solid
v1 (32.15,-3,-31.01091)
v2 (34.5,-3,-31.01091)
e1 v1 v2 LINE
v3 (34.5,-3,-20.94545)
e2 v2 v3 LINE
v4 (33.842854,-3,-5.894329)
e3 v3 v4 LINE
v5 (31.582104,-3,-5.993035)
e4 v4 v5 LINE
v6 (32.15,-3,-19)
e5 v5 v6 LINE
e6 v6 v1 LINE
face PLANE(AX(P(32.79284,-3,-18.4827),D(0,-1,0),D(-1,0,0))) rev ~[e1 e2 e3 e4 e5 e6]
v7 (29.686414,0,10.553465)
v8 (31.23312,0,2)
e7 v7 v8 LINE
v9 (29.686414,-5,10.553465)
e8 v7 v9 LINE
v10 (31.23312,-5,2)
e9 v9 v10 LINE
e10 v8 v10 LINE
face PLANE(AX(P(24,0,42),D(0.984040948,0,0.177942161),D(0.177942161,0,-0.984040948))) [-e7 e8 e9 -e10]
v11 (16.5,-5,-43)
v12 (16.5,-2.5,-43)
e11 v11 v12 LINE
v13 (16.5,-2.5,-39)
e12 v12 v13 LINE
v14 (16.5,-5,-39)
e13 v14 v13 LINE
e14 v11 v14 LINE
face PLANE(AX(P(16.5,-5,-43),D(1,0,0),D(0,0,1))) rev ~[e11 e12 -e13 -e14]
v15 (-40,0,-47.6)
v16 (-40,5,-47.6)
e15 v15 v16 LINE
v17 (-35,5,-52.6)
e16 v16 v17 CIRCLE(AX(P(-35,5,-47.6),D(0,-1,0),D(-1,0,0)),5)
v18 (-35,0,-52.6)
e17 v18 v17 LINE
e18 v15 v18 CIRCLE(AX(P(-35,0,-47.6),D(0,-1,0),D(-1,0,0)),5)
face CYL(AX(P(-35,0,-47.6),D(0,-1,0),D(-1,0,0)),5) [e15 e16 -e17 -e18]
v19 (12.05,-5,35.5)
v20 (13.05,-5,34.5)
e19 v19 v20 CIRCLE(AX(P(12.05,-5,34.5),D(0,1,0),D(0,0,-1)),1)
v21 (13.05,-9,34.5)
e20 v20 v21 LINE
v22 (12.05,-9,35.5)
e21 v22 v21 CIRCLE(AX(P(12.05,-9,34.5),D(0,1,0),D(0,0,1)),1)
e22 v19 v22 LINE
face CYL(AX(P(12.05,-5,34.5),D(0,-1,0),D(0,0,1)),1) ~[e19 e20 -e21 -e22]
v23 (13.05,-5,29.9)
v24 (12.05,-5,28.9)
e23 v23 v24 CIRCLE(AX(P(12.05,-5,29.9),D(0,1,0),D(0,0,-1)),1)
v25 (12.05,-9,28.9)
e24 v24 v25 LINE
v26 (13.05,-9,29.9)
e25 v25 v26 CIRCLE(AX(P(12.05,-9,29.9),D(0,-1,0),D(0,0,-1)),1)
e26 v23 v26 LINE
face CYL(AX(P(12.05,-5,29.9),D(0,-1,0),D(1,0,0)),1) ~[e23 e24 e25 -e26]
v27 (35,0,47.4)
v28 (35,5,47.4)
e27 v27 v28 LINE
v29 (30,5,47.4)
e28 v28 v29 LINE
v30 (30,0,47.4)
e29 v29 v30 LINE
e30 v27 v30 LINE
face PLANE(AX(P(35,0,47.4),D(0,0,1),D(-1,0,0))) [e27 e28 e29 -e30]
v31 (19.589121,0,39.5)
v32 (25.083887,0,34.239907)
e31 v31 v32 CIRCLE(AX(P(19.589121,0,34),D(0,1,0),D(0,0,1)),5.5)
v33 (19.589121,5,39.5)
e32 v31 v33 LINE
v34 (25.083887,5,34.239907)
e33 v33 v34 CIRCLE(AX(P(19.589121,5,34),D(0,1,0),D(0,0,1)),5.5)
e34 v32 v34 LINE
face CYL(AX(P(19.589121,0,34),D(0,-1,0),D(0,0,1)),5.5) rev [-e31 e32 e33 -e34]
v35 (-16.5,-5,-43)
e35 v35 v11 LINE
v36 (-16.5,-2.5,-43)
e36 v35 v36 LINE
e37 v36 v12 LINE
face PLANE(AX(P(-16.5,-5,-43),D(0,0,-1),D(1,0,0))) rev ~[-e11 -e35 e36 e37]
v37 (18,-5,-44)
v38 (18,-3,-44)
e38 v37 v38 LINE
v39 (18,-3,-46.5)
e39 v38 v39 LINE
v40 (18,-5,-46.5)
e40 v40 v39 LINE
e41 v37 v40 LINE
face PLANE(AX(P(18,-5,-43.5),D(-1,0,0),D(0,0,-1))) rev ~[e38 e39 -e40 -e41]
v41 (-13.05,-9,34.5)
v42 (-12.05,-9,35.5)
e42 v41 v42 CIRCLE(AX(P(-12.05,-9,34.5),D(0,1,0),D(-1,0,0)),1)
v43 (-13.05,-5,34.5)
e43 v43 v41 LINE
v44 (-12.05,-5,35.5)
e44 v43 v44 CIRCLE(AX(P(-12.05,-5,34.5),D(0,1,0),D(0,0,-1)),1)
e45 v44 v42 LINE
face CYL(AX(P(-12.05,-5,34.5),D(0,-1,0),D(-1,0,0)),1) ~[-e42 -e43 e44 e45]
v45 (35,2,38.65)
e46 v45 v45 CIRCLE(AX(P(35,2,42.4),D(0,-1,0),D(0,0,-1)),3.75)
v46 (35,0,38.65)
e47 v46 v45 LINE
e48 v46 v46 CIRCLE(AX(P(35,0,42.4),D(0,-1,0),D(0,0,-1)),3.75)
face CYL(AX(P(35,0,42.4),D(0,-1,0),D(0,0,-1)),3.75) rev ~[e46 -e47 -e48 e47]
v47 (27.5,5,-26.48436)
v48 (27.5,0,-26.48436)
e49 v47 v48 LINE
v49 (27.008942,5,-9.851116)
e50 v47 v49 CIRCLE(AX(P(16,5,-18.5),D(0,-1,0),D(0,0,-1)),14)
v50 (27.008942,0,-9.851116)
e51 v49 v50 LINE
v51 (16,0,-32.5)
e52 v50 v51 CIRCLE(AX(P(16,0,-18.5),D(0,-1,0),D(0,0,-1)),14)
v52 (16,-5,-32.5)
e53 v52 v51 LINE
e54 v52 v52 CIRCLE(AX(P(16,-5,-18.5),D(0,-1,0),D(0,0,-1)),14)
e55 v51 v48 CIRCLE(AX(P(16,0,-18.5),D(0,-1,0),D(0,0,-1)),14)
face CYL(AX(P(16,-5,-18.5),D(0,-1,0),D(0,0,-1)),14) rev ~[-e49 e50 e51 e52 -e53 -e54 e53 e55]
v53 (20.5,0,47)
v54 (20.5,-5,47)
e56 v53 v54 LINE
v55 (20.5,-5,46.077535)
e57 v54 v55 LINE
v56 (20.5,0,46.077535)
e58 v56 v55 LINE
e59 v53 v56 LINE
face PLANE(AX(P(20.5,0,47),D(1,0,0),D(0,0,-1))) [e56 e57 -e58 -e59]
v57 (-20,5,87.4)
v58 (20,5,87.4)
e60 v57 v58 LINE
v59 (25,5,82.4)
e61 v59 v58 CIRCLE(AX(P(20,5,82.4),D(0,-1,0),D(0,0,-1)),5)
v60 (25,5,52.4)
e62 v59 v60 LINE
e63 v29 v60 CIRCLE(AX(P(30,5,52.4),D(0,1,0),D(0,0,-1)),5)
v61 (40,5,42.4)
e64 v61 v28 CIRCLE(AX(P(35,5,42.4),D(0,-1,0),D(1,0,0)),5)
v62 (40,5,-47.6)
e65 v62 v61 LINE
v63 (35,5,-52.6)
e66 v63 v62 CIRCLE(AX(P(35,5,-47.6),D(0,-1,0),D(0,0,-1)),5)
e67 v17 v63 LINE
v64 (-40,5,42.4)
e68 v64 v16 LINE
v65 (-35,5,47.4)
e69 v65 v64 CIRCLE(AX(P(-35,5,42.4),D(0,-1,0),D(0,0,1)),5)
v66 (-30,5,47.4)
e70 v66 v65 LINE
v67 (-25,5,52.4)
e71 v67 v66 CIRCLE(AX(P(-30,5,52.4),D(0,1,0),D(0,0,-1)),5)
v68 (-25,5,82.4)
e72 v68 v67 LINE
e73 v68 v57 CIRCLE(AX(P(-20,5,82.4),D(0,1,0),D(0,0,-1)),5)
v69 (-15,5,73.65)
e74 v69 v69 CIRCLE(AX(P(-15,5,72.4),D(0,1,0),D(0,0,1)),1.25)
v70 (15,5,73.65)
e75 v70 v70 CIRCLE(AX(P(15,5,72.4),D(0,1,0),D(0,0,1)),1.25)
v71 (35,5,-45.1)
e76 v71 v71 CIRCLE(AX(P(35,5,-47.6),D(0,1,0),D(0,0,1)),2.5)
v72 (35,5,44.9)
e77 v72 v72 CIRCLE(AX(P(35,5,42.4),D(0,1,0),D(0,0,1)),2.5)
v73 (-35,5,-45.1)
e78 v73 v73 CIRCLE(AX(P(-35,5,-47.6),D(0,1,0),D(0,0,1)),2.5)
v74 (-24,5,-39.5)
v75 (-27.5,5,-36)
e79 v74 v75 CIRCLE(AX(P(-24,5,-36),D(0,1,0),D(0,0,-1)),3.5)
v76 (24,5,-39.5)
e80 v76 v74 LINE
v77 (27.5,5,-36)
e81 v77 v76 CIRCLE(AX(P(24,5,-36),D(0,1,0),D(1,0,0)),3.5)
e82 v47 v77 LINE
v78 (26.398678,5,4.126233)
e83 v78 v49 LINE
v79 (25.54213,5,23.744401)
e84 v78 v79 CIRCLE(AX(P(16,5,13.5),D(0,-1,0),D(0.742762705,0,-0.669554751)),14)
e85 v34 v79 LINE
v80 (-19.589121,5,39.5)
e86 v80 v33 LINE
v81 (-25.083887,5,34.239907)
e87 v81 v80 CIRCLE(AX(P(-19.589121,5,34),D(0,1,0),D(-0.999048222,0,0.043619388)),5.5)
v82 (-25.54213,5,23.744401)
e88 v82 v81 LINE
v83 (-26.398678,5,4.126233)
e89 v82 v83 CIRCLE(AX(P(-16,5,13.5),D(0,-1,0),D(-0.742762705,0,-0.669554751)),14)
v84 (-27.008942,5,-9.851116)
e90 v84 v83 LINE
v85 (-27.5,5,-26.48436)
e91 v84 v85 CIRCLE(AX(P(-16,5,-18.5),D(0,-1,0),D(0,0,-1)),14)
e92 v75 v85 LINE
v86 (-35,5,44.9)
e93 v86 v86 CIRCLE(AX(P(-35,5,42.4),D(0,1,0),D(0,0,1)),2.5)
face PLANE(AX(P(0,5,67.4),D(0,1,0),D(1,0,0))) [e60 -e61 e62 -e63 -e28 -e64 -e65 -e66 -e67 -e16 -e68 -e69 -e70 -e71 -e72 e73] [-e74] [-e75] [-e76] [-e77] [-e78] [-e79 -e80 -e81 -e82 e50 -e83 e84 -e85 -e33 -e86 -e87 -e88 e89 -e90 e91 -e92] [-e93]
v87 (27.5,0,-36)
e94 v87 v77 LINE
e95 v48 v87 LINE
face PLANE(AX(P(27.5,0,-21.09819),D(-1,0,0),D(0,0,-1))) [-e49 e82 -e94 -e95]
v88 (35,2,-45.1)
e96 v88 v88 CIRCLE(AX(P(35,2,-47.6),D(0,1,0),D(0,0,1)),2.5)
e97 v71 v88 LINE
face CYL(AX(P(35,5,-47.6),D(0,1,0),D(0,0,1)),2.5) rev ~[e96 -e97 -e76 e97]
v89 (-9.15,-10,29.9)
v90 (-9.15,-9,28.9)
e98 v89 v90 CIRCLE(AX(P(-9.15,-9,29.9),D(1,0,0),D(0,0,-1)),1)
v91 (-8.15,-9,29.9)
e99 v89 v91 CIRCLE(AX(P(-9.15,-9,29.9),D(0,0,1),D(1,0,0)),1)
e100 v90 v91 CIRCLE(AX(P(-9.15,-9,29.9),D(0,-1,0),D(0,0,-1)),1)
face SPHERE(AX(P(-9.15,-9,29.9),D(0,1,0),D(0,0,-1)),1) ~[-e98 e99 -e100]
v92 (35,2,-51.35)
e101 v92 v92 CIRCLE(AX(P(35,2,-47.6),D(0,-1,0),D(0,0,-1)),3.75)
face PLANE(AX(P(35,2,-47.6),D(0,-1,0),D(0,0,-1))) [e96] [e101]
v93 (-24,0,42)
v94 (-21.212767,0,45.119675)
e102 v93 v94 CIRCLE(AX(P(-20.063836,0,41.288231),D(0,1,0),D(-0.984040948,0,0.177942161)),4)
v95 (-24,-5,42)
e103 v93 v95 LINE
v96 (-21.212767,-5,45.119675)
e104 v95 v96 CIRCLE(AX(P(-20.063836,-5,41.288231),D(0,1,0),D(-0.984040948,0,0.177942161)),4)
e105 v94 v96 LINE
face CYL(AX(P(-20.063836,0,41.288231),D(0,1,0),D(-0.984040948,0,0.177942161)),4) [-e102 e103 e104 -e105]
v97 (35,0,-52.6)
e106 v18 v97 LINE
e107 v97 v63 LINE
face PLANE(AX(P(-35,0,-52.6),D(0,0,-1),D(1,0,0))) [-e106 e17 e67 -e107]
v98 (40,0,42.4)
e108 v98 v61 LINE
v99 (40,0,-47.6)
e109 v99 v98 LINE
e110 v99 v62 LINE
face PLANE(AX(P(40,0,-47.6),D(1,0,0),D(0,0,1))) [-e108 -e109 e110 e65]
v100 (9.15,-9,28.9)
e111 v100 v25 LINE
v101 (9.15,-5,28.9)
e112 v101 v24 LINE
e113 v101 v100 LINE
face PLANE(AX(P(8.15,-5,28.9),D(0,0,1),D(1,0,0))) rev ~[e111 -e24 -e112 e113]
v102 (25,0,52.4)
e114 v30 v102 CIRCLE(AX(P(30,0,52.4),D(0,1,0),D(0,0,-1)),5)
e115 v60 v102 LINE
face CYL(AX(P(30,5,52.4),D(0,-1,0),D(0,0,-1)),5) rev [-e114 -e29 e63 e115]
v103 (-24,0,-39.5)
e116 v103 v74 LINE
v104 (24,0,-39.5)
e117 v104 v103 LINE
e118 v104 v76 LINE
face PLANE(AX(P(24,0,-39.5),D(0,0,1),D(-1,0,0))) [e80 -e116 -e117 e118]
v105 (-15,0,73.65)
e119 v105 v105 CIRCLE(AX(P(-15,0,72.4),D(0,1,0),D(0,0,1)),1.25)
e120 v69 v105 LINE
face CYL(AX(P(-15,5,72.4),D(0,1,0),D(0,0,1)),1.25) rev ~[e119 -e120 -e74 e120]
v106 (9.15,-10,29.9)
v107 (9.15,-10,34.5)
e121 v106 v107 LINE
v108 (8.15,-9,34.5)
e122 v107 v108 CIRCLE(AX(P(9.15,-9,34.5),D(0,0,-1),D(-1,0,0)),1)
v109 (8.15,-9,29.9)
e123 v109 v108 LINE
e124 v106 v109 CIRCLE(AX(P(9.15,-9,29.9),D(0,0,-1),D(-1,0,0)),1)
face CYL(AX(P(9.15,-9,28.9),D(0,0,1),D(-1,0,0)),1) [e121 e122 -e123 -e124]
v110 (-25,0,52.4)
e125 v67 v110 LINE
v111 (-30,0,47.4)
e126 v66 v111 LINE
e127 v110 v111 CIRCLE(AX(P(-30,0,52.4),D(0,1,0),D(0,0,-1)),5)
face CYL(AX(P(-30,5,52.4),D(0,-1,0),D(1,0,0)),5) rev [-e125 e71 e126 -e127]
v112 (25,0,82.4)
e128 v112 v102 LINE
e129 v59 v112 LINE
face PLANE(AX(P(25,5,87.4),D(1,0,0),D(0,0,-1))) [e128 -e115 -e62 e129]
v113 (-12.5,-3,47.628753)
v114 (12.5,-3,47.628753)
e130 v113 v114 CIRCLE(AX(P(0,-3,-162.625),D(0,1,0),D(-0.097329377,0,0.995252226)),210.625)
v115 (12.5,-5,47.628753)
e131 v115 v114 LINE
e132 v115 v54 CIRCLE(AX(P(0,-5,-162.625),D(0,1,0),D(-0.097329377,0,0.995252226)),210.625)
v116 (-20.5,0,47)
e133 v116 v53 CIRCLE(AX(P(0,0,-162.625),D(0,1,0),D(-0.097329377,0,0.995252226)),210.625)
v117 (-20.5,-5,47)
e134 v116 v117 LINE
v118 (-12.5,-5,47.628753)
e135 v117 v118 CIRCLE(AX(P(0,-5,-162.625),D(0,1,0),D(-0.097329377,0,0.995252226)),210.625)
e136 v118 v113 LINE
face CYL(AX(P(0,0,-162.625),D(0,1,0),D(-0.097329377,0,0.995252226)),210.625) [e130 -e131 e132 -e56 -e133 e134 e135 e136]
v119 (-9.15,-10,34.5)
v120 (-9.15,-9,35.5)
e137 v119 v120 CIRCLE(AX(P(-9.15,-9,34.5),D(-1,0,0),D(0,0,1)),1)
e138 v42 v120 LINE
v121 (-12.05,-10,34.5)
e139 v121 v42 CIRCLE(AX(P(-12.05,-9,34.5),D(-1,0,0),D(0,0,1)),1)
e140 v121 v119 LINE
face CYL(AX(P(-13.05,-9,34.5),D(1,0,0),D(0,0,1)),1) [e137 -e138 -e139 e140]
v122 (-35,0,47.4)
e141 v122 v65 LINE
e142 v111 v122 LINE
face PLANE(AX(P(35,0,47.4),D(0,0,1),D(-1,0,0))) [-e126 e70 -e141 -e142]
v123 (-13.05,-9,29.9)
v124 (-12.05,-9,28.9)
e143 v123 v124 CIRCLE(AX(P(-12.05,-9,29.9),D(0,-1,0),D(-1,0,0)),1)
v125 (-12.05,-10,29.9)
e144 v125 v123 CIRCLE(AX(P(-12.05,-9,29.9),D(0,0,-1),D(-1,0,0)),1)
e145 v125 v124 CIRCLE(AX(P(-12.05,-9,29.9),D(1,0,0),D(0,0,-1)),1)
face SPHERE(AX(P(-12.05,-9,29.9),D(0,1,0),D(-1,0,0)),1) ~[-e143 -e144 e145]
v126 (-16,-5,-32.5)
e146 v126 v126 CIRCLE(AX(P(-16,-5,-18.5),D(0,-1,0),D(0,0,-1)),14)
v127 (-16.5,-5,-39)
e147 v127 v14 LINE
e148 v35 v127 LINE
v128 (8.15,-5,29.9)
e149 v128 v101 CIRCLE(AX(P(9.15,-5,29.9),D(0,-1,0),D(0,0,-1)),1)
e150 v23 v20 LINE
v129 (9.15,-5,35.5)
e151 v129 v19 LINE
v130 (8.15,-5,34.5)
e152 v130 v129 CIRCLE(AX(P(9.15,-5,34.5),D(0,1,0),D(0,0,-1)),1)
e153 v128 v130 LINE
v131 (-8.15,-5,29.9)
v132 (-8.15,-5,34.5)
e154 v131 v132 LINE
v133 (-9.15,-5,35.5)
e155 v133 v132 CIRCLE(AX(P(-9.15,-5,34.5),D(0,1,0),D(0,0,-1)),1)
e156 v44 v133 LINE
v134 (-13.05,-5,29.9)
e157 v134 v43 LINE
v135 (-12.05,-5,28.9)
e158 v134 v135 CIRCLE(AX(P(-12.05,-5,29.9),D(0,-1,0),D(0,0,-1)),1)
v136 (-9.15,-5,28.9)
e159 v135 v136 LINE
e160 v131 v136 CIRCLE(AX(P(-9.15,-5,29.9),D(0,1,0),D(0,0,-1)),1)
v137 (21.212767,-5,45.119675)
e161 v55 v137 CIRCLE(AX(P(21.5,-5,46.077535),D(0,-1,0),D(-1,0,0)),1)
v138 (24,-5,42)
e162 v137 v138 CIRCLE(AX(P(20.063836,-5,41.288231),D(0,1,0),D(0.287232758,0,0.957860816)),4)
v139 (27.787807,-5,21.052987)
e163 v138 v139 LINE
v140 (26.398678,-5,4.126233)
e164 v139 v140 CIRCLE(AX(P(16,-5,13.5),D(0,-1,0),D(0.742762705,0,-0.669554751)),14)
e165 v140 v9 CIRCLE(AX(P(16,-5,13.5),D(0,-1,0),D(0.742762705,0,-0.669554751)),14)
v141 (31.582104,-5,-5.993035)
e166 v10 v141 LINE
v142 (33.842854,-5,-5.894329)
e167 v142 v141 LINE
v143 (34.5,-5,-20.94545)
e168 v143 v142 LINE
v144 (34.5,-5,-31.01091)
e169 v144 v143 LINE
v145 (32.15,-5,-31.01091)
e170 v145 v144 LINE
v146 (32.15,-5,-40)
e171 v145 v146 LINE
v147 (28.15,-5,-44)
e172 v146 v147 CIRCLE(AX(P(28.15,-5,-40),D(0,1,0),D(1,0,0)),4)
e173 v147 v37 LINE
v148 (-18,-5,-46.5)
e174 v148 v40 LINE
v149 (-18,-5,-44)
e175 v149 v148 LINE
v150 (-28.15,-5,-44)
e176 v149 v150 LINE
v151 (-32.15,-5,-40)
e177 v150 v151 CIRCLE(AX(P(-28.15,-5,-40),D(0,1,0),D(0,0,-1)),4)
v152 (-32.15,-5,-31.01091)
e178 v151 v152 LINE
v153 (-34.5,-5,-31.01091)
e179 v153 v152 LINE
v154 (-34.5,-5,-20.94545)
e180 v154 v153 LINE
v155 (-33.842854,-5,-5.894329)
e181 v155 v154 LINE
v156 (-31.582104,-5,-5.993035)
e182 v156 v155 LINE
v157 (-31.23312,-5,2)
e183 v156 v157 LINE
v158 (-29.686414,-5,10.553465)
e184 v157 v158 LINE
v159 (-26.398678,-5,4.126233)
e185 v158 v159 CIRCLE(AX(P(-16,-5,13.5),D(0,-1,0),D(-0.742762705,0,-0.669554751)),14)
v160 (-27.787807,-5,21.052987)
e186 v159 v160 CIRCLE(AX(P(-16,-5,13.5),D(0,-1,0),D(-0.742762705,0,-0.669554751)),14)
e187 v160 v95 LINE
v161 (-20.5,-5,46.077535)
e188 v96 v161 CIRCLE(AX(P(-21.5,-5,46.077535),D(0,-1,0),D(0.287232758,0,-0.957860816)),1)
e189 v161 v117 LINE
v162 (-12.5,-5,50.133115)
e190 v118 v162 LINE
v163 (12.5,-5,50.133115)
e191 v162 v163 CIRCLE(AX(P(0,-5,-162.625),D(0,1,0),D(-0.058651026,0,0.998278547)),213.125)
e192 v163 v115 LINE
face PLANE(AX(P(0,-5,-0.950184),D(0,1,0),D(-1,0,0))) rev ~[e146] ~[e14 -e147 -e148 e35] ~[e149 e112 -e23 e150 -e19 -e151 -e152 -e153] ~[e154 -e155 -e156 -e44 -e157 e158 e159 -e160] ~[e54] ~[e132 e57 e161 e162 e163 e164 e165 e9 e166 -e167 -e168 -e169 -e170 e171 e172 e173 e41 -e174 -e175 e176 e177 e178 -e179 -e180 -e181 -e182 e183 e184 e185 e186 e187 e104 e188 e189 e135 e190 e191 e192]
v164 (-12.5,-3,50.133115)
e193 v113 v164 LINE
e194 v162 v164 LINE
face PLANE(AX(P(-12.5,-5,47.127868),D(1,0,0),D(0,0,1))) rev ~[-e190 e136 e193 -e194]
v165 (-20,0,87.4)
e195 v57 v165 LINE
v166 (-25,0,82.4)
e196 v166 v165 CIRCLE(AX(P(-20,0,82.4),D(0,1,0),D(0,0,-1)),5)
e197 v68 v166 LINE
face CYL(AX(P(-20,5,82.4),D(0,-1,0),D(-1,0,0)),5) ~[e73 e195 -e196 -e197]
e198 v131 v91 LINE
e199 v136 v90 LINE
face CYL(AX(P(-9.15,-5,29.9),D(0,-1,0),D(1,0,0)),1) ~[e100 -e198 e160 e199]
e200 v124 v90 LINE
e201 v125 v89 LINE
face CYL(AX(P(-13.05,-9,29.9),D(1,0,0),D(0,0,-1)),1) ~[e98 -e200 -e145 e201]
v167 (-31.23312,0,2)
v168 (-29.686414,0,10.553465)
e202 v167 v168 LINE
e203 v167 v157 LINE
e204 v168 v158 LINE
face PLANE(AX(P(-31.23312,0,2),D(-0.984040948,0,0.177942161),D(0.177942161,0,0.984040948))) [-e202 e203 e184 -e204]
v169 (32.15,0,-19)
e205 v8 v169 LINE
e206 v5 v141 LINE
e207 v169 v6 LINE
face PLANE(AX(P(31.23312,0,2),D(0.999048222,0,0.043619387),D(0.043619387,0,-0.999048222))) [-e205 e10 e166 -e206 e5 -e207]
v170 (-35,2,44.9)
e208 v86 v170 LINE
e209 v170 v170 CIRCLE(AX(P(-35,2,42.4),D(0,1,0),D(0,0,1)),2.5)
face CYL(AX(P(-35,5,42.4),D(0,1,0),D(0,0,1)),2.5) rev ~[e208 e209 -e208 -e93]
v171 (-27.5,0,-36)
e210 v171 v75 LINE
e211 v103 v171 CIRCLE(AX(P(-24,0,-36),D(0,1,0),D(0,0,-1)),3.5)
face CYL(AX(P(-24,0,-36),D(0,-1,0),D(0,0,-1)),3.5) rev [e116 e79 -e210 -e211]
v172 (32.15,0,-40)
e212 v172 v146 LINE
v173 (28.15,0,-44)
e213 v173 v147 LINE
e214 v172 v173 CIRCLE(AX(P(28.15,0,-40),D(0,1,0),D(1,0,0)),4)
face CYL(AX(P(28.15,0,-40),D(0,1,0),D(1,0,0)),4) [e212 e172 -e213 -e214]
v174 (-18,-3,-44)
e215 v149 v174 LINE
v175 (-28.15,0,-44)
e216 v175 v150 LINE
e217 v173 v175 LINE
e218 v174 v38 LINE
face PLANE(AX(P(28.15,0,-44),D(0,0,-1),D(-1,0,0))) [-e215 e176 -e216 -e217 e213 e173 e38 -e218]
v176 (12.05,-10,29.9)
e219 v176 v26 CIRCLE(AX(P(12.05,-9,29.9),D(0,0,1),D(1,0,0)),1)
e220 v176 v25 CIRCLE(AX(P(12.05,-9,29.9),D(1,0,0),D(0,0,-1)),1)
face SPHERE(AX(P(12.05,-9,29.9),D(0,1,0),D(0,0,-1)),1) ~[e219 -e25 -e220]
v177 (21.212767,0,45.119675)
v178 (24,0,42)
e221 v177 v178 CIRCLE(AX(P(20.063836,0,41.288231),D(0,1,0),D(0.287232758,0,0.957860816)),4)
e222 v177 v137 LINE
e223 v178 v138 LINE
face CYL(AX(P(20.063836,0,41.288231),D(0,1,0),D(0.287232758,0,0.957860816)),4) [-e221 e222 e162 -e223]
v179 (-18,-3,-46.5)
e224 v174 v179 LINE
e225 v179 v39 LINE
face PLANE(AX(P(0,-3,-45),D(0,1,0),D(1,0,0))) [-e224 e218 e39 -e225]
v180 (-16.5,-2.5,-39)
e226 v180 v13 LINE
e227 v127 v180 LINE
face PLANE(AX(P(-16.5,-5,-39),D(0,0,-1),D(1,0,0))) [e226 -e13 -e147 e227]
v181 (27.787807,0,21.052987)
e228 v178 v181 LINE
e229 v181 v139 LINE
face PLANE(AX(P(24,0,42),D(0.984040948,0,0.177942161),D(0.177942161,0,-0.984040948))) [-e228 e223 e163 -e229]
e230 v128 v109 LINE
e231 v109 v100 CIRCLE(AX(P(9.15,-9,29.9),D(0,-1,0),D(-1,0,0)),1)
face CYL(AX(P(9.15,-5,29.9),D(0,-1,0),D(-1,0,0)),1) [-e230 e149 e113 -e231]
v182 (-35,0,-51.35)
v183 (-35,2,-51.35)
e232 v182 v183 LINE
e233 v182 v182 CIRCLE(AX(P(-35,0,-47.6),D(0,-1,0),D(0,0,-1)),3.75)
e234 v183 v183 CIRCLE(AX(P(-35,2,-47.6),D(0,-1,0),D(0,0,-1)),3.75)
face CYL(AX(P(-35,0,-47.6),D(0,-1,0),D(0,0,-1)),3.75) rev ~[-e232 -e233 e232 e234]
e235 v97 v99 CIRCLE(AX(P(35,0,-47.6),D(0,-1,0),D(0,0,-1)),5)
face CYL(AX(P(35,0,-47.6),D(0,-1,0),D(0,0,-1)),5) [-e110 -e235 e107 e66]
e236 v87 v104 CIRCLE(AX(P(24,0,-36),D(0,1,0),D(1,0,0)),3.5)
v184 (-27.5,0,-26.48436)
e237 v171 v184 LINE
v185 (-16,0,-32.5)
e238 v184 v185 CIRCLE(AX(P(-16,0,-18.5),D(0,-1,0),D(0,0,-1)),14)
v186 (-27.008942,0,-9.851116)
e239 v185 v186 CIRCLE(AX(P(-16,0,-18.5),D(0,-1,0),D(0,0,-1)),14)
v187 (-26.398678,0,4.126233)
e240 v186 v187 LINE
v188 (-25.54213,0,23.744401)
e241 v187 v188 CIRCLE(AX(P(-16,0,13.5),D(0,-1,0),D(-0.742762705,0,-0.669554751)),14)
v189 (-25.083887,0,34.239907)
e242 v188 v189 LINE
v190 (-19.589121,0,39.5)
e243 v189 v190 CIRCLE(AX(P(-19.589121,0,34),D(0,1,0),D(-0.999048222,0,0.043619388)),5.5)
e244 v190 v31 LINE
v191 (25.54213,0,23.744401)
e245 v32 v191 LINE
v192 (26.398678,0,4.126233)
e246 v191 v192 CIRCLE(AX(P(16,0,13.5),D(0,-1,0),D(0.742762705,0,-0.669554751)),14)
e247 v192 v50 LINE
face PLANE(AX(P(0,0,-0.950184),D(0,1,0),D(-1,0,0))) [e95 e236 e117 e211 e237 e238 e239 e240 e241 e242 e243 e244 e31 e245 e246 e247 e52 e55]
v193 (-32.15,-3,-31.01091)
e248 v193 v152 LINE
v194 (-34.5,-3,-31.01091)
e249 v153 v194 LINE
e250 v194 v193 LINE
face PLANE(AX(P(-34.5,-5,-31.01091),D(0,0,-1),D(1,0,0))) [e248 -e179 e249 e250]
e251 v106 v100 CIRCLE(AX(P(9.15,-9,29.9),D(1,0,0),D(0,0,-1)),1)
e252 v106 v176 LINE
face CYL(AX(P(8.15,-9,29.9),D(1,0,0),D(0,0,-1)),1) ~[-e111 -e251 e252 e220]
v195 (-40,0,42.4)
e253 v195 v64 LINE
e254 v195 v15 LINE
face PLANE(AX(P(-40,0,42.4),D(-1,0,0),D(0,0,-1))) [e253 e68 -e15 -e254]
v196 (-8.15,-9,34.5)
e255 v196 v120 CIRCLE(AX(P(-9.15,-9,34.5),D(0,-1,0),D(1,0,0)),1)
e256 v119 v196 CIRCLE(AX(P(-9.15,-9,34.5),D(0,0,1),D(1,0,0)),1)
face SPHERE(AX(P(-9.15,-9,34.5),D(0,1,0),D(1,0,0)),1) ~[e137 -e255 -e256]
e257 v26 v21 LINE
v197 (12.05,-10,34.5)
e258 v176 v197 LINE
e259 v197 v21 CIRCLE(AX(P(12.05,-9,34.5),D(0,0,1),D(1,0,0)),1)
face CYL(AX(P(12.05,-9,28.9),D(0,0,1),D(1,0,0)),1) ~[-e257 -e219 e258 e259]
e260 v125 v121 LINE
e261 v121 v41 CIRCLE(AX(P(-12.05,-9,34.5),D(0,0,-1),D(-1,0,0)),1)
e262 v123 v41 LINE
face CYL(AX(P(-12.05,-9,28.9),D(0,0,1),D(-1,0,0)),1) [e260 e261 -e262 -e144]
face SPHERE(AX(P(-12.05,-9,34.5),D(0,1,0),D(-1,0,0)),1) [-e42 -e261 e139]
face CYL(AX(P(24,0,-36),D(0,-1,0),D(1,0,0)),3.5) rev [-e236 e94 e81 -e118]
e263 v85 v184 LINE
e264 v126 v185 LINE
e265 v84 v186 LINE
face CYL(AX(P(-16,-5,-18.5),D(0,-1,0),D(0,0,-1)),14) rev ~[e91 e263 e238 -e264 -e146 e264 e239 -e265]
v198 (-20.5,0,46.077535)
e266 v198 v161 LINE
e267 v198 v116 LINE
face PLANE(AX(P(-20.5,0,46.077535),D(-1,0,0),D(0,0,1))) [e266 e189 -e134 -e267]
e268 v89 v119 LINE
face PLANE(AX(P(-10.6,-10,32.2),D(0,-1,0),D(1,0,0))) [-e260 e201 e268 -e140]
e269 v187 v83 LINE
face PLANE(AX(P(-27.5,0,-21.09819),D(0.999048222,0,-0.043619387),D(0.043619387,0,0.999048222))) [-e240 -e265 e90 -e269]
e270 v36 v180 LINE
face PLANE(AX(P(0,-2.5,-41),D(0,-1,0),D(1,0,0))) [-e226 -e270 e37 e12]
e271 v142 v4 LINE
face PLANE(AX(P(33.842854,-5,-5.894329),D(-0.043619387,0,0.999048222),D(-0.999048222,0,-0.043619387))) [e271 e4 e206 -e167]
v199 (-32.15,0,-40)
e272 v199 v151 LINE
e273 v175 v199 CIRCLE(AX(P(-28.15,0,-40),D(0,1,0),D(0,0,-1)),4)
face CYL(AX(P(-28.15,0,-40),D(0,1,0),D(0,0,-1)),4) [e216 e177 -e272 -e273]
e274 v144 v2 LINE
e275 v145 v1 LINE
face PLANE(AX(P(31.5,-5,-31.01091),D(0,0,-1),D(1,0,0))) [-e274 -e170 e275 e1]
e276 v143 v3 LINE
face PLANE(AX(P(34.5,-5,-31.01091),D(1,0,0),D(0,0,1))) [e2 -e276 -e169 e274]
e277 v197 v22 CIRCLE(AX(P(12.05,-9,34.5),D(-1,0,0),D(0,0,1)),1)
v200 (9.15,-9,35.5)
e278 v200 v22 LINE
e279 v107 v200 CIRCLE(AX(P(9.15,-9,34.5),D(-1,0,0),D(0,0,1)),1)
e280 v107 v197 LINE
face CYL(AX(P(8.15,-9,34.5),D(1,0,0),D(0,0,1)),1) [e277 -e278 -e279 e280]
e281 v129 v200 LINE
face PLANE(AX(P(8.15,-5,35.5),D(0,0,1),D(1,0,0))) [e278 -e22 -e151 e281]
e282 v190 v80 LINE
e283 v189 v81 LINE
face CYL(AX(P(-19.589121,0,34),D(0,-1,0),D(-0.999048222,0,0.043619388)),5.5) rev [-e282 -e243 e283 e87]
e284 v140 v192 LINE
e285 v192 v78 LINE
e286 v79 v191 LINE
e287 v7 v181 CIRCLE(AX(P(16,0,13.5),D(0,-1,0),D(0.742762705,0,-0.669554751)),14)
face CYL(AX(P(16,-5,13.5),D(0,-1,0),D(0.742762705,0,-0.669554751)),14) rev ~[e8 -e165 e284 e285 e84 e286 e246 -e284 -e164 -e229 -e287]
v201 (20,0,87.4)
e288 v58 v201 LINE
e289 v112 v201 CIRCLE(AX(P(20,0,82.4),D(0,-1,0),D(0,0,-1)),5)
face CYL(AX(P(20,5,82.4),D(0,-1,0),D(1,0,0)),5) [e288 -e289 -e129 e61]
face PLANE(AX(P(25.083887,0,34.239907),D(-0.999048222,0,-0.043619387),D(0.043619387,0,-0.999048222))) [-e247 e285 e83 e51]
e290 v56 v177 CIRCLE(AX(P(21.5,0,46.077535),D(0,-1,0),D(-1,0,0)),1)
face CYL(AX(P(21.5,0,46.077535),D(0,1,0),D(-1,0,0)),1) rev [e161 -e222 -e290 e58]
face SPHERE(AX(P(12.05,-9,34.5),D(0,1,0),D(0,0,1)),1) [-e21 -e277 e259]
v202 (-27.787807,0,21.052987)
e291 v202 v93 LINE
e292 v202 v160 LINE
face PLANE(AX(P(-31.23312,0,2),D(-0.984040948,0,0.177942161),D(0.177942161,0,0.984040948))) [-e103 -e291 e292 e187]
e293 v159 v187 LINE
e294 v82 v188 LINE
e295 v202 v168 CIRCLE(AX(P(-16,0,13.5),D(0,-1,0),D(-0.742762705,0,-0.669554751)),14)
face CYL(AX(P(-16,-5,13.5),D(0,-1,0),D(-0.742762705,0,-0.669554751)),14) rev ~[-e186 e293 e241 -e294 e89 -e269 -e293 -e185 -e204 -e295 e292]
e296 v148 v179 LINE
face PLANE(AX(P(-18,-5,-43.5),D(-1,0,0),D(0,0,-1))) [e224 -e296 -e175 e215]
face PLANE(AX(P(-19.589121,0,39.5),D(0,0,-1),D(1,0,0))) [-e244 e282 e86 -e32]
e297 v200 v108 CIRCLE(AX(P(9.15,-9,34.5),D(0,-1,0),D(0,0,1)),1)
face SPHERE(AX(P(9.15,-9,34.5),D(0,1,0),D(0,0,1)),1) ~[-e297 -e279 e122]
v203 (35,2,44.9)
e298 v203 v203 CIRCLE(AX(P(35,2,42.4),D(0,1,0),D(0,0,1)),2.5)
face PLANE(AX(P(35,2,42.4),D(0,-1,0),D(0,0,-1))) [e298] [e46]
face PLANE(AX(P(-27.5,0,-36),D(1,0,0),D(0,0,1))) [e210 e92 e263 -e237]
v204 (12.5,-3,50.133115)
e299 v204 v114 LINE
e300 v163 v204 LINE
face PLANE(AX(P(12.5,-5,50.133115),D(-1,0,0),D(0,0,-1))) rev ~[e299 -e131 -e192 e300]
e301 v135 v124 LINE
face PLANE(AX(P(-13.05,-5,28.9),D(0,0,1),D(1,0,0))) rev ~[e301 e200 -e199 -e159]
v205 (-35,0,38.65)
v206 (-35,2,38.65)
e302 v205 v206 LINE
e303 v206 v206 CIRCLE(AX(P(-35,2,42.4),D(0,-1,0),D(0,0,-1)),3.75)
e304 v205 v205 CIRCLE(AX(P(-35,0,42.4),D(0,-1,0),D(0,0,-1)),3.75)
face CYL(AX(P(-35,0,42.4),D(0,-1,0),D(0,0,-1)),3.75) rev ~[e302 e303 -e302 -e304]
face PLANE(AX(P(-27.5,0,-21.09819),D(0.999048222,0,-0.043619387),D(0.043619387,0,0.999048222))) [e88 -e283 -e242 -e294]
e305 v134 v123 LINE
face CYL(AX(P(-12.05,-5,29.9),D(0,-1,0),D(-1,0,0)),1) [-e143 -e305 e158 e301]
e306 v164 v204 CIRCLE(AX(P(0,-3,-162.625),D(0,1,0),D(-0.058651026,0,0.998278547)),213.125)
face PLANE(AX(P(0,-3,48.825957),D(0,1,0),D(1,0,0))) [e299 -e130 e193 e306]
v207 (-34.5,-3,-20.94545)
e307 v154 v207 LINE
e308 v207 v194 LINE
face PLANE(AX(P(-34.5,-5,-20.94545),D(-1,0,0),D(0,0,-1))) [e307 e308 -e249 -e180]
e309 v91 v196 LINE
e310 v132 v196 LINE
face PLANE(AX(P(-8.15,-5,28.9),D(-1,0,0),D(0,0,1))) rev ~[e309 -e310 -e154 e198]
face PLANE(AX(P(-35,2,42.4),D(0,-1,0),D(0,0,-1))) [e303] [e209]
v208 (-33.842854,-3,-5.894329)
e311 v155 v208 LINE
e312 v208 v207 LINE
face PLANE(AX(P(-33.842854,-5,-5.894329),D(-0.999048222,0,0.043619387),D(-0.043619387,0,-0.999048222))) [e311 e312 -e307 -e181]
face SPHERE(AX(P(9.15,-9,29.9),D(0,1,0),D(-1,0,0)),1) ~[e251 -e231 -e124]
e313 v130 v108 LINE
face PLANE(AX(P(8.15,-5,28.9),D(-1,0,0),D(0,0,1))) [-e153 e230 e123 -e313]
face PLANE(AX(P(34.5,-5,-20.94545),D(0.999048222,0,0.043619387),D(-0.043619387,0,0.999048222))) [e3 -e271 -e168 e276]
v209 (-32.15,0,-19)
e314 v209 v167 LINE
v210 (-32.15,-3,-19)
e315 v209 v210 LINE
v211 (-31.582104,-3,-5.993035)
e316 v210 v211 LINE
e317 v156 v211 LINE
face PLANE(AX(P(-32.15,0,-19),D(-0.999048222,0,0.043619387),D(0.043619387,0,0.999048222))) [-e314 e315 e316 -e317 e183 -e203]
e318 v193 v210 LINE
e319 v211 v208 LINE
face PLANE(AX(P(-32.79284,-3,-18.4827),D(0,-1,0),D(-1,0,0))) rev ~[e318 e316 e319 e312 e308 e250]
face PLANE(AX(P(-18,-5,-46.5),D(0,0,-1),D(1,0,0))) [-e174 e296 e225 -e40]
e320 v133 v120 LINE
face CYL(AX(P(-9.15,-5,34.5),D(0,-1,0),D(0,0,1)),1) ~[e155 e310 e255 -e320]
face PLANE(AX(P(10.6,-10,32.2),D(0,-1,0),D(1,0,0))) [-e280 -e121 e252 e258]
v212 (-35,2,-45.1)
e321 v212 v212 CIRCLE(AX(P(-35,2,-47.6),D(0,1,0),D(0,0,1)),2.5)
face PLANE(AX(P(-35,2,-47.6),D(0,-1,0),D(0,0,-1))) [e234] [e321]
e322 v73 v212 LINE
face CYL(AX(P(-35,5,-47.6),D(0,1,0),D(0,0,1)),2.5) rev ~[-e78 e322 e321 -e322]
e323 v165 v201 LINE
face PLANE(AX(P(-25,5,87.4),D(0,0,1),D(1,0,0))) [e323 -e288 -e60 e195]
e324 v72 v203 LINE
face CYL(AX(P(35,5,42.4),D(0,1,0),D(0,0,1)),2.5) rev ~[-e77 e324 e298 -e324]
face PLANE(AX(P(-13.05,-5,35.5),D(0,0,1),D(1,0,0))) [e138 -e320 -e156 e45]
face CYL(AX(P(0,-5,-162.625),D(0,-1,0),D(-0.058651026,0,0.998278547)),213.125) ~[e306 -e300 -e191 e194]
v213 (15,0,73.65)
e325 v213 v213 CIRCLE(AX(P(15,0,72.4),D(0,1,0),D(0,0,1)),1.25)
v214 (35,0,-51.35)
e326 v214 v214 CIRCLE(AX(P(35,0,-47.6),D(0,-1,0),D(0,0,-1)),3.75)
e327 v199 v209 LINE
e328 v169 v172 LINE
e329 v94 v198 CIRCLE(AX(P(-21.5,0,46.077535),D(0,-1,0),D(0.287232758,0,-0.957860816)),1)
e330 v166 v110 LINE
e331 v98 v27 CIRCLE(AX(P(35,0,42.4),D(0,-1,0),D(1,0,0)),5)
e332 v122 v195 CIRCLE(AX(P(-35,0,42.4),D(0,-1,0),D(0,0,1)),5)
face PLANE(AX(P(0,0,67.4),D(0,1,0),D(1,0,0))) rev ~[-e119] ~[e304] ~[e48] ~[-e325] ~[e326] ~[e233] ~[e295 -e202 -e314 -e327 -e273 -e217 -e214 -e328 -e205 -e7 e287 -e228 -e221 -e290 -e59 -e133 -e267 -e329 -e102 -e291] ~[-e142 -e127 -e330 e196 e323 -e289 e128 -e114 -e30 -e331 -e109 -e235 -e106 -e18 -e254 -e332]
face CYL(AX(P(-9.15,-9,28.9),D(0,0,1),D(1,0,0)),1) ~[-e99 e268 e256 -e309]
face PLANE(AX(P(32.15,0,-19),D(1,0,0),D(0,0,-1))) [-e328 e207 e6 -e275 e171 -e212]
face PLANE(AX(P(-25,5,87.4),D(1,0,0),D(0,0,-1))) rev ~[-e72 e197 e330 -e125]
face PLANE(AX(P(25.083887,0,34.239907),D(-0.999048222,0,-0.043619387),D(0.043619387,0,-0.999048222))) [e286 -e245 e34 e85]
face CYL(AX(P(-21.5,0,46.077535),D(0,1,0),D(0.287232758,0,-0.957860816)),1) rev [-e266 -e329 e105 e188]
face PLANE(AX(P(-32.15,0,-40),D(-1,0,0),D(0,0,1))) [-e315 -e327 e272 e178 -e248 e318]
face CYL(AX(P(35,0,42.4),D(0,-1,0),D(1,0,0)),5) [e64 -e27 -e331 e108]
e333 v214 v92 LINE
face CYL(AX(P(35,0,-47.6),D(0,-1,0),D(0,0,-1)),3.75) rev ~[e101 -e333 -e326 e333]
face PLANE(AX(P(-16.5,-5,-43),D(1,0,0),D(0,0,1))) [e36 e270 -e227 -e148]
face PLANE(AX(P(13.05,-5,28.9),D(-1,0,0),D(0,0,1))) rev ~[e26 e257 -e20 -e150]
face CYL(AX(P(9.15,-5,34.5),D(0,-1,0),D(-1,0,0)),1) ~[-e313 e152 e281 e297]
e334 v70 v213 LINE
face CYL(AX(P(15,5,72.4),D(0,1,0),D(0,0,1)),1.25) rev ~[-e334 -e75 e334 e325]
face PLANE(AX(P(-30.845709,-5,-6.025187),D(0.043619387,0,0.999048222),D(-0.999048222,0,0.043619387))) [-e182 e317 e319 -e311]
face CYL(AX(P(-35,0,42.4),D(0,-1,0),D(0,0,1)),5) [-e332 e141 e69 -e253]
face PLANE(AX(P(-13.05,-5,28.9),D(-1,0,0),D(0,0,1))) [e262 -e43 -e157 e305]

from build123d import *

# Parameters (mm, degrees)
SKETCH8_R                        = 12.5
BOSS_EXTRUDE6_DEPTH              = 5
BOSS_EXTRUDE7_DEPTH              = 5
EXTRUDE_THIN4_DEPTH              = 8
EXTRUDE_THIN4_DEPTH_BACK         = 20
SKETCH2_W                        = 70
SKETCH2_H                        = 90
BOSS_EXTRUDE8_DEPTH              = 5
BOSS_EXTRUDE9_DEPTH              = 5
BOSS_EXTRUDE10_REACH             = 81.849
SKETCH13_W                       = 6.5
SKETCH13_H                       = 17.8
BOSS_EXTRUDE10_DIRECTION_2_REACH = 81.849
SKETCH15_R                       = 2.25
CUT_EXTRUDE1_DEPTH               = 17.8
SKETCH17_W                       = 36
SKETCH17_H                       = 3
BOSS_EXTRUDE11_DEPTH             = 2
SKETCH18_W                       = 36
SKETCH18_H                       = 3
SKETCH18_W_2                     = 26
BOSS_EXTRUDE12_DEPTH             = 2
SKETCH19_W                       = 150
SKETCH19_H                       = 150
CUT_EXTRUDE2_DEPTH               = 78.271016559
SKETCH20_R                       = 2.5
CUT_EXTRUDE3_DEPTH               = 67.833823772
SKETCH21_W                       = 4.9
SKETCH21_H                       = 6.6
BOSS_EXTRUDE13_DEPTH             = 5
SKETCH22_W                       = 50
SKETCH22_H                       = 40
SKETCH22_R                       = 1.25
BOSS_EXTRUDE14_DEPTH             = 5
FILLET1_R                        = 5
SKETCH24_R                       = 3.75
CUT_EXTRUDE4_DEPTH               = 2
FILLET3_R                        = 1
SKETCH25_W                       = 33
SKETCH25_H                       = 4
CUT_EXTRUDE5_DEPTH               = 2.5
SKETCH26_R                       = 14
CUT_EXTRUDE6_DEPTH               = 97.637259895


with BuildPart() as part:
    # Sketch8 → Boss-Extrude6 (new body)
    with BuildSketch(Plane(origin=(0, 0, 0), x_dir=(-1, 0, 0), z_dir=(0, 1, 0))):
        with BuildLine():
            Line((32.15, -40), (32.15, -19))
            Line((32.15, -19), (31.233120199, 2))
            Line((31.233120199, 2), (24, 42))
            ThreePointArc((24, 42), (23.046727386, 43.953256725), (21.212767242, 45.119674618))
            ThreePointArc((21.212767242, 45.119674618), (20.697742947, 45.48055669), (20.5, 46.077535434))
            Line((20.5, 46.077535434), (20.5, 47))
            ThreePointArc((20.5, 47), (0, 48), (-20.5, 47))
            Line((-20.5, 47), (-20.5, 46.077535434))
            ThreePointArc((-20.5, 46.077535434), (-20.697742947, 45.48055669), (-21.212767242, 45.119674618))
            ThreePointArc((-21.212767242, 45.119674618), (-23.046727386, 43.953256725), (-24, 42))
            Line((-24, 42), (-31.233120199, 2))
            Line((-31.233120199, 2), (-32.15, -19))
            Line((-32.15, -19), (-32.15, -40))
            ThreePointArc((-32.15, -40), (-30.978427125, -42.828427125), (-28.15, -44))
            Line((-28.15, -44), (28.15, -44))
            ThreePointArc((28.15, -44), (30.978427125, -42.828427125), (32.15, -40))
        make_face()
        with Locations(Location((16, 13.5, 0), (0, 0, 90))):
            Circle(SKETCH8_R, mode=Mode.SUBTRACT)
        with Locations(Location((-16, 13.5, 0), (0, 0, 90))):
            Circle(SKETCH8_R, mode=Mode.SUBTRACT)
        with Locations(Location((16, -18.5, 0), (0, 0, 90))):
            Circle(SKETCH8_R, mode=Mode.SUBTRACT)
        with Locations(Location((-16, -18.5, 0), (0, 0, 90))):
            Circle(SKETCH8_R, mode=Mode.SUBTRACT)
    extrude(amount=-BOSS_EXTRUDE6_DEPTH)

    # Sketch1 → Boss-Extrude7 (add)
    # profile 1 of 3: a face of its own
    with BuildSketch(Plane(origin=(0, 0, 0), x_dir=(1, 0, 0), z_dir=(0, 1, 0))):
        with BuildLine():
            Line((-35, 52.6), (35, 52.6))
            ThreePointArc((35, 52.6), (38.535533906, 51.135533906), (40, 47.6))
            Line((40, 47.6), (40, -42.4))
            ThreePointArc((40, -42.4), (38.535533906, -45.935533906), (35, -47.4))
            Line((35, -47.4), (-35, -47.4))
            ThreePointArc((-35, -47.4), (-38.535533906, -45.935533906), (-40, -42.4))
            Line((-40, -42.4), (-40, 47.6))
            ThreePointArc((-40, 47.6), (-38.535533906, 51.135533906), (-35, 52.6))
        make_face()
        with BuildLine():
            ThreePointArc((32, 36), (29.656854249, 41.656854249), (24, 44))
            Line((24, 44), (-24, 44))
            ThreePointArc((-24, 44), (-29.656854249, 41.656854249), (-32, 36))
            Line((-32, 36), (-32, 21))
            Line((-32, 21), (-29.579603504, -34.436193874))
            ThreePointArc((-29.579603504, -34.436193874), (-26.504251846, -41.223639621), (-19.589121288, -44))
            Line((-19.589121288, -44), (19.589121288, -44))
            ThreePointArc((19.589121288, -44), (26.504251846, -41.223639621), (29.579603504, -34.436193874))
            Line((29.579603504, -34.436193874), (32, 21))
            Line((32, 21), (32, 36))
        make_face(mode=Mode.SUBTRACT)
    # profile 2 of 3: a face of its own
    with BuildSketch(Plane(origin=(0, 0, 0), x_dir=(1, 0, 0), z_dir=(0, 1, 0))):
        with BuildLine():
            Line((32, 36), (32, 21))
            Line((32, 21), (29.579603504, -34.436193874))
            ThreePointArc((29.579603504, -34.436193874), (26.504251846, -41.223639621), (19.589121288, -44))
            Line((19.589121288, -44), (-19.589121288, -44))
            ThreePointArc((-19.589121288, -44), (-26.504251846, -41.223639621), (-29.579603504, -34.436193874))
            Line((-29.579603504, -34.436193874), (-32, 21))
            Line((-32, 21), (-32, 36))
            ThreePointArc((-32, 36), (-29.656854249, 41.656854249), (-24, 44))
            Line((-24, 44), (24, 44))
            ThreePointArc((24, 44), (29.656854249, 41.656854249), (32, 36))
        make_face()
        with BuildLine():
            ThreePointArc((-24, 41), (-27.535533906, 39.535533906), (-29, 36))
            Line((-29, 36), (-29, 21.065460233))
            Line((-29, 21.065460233), (-26.582458839, -34.305335712))
            ThreePointArc((-26.582458839, -34.305335712), (-24.429712679, -39.056547734), (-19.589121288, -41))
            Line((-19.589121288, -41), (19.589121288, -41))
            ThreePointArc((19.589121288, -41), (24.429712679, -39.056547734), (26.582458839, -34.305335712))
            Line((26.582458839, -34.305335712), (29, 21.065460233))
            Line((29, 21.065460233), (29, 36))
            ThreePointArc((29, 36), (27.535533906, 39.535533906), (24, 41))
            Line((24, 41), (-24, 41))
        make_face(mode=Mode.SUBTRACT)
    # profile 3 of 3: a face of its own
    with BuildSketch(Plane(origin=(0, 0, 0), x_dir=(1, 0, 0), z_dir=(0, 1, 0))):
        with BuildLine():
            Line((-24, 41), (24, 41))
            ThreePointArc((24, 41), (27.535533906, 39.535533906), (29, 36))
            Line((29, 36), (29, 21.065460233))
            Line((29, 21.065460233), (26.582458839, -34.305335712))
            ThreePointArc((26.582458839, -34.305335712), (24.429712679, -39.056547734), (19.589121288, -41))
            Line((19.589121288, -41), (-19.589121288, -41))
            ThreePointArc((-19.589121288, -41), (-24.429712679, -39.056547734), (-26.582458839, -34.305335712))
            Line((-26.582458839, -34.305335712), (-29, 21.065460233))
            Line((-29, 21.065460233), (-29, 36))
            ThreePointArc((-29, 36), (-27.535533906, 39.535533906), (-24, 41))
        make_face()
        with BuildLine():
            ThreePointArc((-24, 39.5), (-26.474873734, 38.474873734), (-27.5, 36))
            Line((-27.5, 36), (-27.5, 21.098190349))
            Line((-27.5, 21.098190349), (-25.083886507, -34.239906631))
            ThreePointArc((-25.083886507, -34.239906631), (-23.392443095, -37.973001791), (-19.589121288, -39.5))
            Line((-19.589121288, -39.5), (19.589121288, -39.5))
            ThreePointArc((19.589121288, -39.5), (23.392443095, -37.973001791), (25.083886507, -34.239906631))
            Line((25.083886507, -34.239906631), (27.5, 21.098190349))
            Line((27.5, 21.098190349), (27.5, 36))
            ThreePointArc((27.5, 36), (26.474873734, 38.474873734), (24, 39.5))
            Line((24, 39.5), (-24, 39.5))
        make_face(mode=Mode.SUBTRACT)
    extrude(amount=BOSS_EXTRUDE7_DEPTH)

    # Sketch17 → Boss-Extrude11 (add)
    with BuildSketch(Plane(origin=(0, -5, 0), x_dir=(1, 0, 0), z_dir=(0, 1, 0))):
        with Locations((0, 45)):
            Rectangle(SKETCH17_W, SKETCH17_H)
        with BuildLine():
            Line((-12.5, -47.127867978), (-12.5, -50.133115298))
            ThreePointArc((-12.5, -50.133115298), (0, -50.5), (12.5, -50.133115298))
            Line((12.5, -50.133115298), (12.5, -47.127867978))
            ThreePointArc((12.5, -47.127867978), (0, -47.5), (-12.5, -47.127867978))
        make_face()
        Polygon((-31.5, 21.010910039), (-30.84570919, 6.025186715), (-33.842853854, 5.894328553), (-34.5, 20.945449806), (-34.5, 31.010910039), (-31.5, 31.010910039), align=None)
        Polygon((31.5, 21.010910039), (31.5, 31.010910039), (34.5, 31.010910039), (34.5, 20.945449806), (33.842853854, 5.894328553), (30.84570919, 6.025186715), align=None)
    extrude(amount=BOSS_EXTRUDE11_DEPTH)

    # Sketch20 → Cut-Extrude3 (cut, through all)
    with BuildSketch(Plane(origin=(0, 5, 0), x_dir=(1, 0, 0), z_dir=(0, 1, 0))):
        with Locations(Location((-35, 47.6, 0), (0, 0, 270))):
            Circle(SKETCH20_R)
        with Locations(Location((35, 47.6, 0), (0, 0, 270))):
            Circle(SKETCH20_R)
        with Locations(Location((-35, -42.4, 0), (0, 0, 270))):
            Circle(SKETCH20_R)
        with Locations(Location((35, -42.4, 0), (0, 0, 270))):
            Circle(SKETCH20_R)
    extrude(amount=-CUT_EXTRUDE3_DEPTH, mode=Mode.SUBTRACT)

    # Sketch21 → Boss-Extrude13 (add)
    with BuildSketch(Plane.XZ.offset(5)):
        with Locations((-10.6, 32.2)):
            Rectangle(SKETCH21_W, SKETCH21_H)
        with Locations((10.6, 32.2)):
            Rectangle(SKETCH21_W, SKETCH21_H)
    extrude(amount=BOSS_EXTRUDE13_DEPTH)

    # Sketch22 → Boss-Extrude14 (add)
    with BuildSketch(Plane(origin=(0, 5, 0), x_dir=(1, 0, 0), z_dir=(0, 1, 0))):
        with Locations((0, -67.4)):
            Rectangle(SKETCH22_W, SKETCH22_H)
        with Locations(Location((15, -72.4, 0), (0, 0, 270))):
            Circle(SKETCH22_R, mode=Mode.SUBTRACT)
        with Locations(Location((-15, -72.4, 0), (0, 0, 270))):
            Circle(SKETCH22_R, mode=Mode.SUBTRACT)
    extrude(amount=-BOSS_EXTRUDE14_DEPTH)

    # Fillet1
    fillet1_edges = [part.edges().sort_by_distance(p)[0] for p in [
        (-25, 2.5, 87.4),
        (-25, 2.5, 47.4),
        (25, 2.5, 47.4),
        (25, 2.5, 87.4),
    ]]
    fillet(fillet1_edges, radius=FILLET1_R)

    # Sketch24 → Cut-Extrude4 (cut)
    with BuildSketch(Plane.XZ):
        with Locations(Location((35, -47.6, 0), (0, 0, 270))):
            Circle(SKETCH24_R)
        with Locations(Location((-35, -47.6, 0), (0, 0, 270))):
            Circle(SKETCH24_R)
        with Locations(Location((35, 42.4, 0), (0, 0, 270))):
            Circle(SKETCH24_R)
        with Locations(Location((-35, 42.4, 0), (0, 0, 270))):
            Circle(SKETCH24_R)
    extrude(amount=-CUT_EXTRUDE4_DEPTH, mode=Mode.SUBTRACT)

    # Fillet3
    fillet3_edges = [part.edges().sort_by_distance(p)[0] for p in [
        (-13.05, -7.5, 35.5),
        (-13.05, -7.5, 28.9),
        (-8.15, -7.5, 28.9),
        (-8.15, -7.5, 35.5),
        (-13.05, -10, 32.2),
        (-10.6, -10, 28.9),
        (-8.15, -10, 32.2),
        (-10.6, -10, 35.5),
        (13.05, -7.5, 35.5),
        (8.15, -7.5, 35.5),
        (8.15, -7.5, 28.9),
        (13.05, -7.5, 28.9),
        (10.6, -10, 35.5),
        (8.15, -10, 32.2),
        (10.6, -10, 28.9),
        (13.05, -10, 32.2),
    ]]
    fillet(fillet3_edges, radius=FILLET3_R)

    # Sketch25 → Cut-Extrude5 (cut)
    with BuildSketch(Plane.XZ.offset(5)):
        with Locations((0, -41)):
            Rectangle(SKETCH25_W, SKETCH25_H)
    extrude(amount=-CUT_EXTRUDE5_DEPTH, mode=Mode.SUBTRACT)

    # Sketch26 → Cut-Extrude6 (cut, through all)
    with BuildSketch(Plane.XZ.offset(5)):
        with Locations(Location((16, -18.5, 0), (0, 0, 270))):
            Circle(SKETCH26_R)
        with Locations(Location((16, 13.5, 0), (0, 0, 317.967290466))):
            Circle(SKETCH26_R)
        with Locations(Location((-16, 13.5, 0), (0, 0, 222.032709534))):
            Circle(SKETCH26_R)
        with Locations(Location((-16, -18.5, 0), (0, 0, 270))):
            Circle(SKETCH26_R)
    extrude(amount=-CUT_EXTRUDE6_DEPTH, mode=Mode.SUBTRACT)


with BuildPart() as body_2:
    # Sketch2 → Extrude-Thin4 (new, two sides: drawn at the far end of the back side and taken through both)
    with BuildSketch(Plane(origin=(0, 25, 0), x_dir=(1, 0, 0), z_dir=(0, 1, 0)).offset(-EXTRUDE_THIN4_DEPTH_BACK)):
        with BuildLine():
            Line((-40, 49.1), (-40, -40.9))
            ThreePointArc((-40, -40.9), (-38.535533906, -44.435533906), (-35, -45.9))
            Line((-35, -45.9), (35, -45.9))
            ThreePointArc((35, -45.9), (38.535533906, -44.435533906), (40, -40.9))
            Line((40, -40.9), (40, 49.1))
            ThreePointArc((40, 49.1), (38.535533906, 52.635533906), (35, 54.1))
            Line((35, 54.1), (-35, 54.1))
            ThreePointArc((-35, 54.1), (-38.535533906, 52.635533906), (-40, 49.1))
        make_face()
        with Locations((0, 4.1)):
            Rectangle(SKETCH2_W, SKETCH2_H, mode=Mode.SUBTRACT)
    extrude(amount=EXTRUDE_THIN4_DEPTH + EXTRUDE_THIN4_DEPTH_BACK)

    # Sketch13 → Boss-Extrude10 (add, up to next)
    with BuildSketch(Plane(origin=(0, 0, 0), x_dir=(0, 0, -1), z_dir=(1, 0, 0)), mode=Mode.PRIVATE) as boss_extrude10_sk1:
        with Locations((45.85, 20)):
            Rectangle(SKETCH13_W, SKETCH13_H)
    boss_extrude10_tool1 = extrude(boss_extrude10_sk1.sketch, amount=BOSS_EXTRUDE10_REACH, mode=Mode.PRIVATE) - body_2.part
    # Sketch13 → Boss-Extrude10 (add, up to next)
    with BuildSketch(Plane(origin=(0, 0, 0), x_dir=(0, 0, -1), z_dir=(1, 0, 0)), mode=Mode.PRIVATE) as boss_extrude10_sk2:
        with Locations((-37.65, 20)):
            Rectangle(SKETCH13_W, SKETCH13_H)
    boss_extrude10_tool2 = extrude(boss_extrude10_sk2.sketch, amount=BOSS_EXTRUDE10_REACH, mode=Mode.PRIVATE) - body_2.part
    add(boss_extrude10_tool1.solids().sort_by_distance((0, 20, -45.85))[0])
    add(boss_extrude10_tool2.solids().sort_by_distance((0, 20, 37.65))[0])

    # Sketch13 → Boss-Extrude10 direction 2 (add, up to next)
    with BuildSketch(Plane(origin=(0, 0, 0), x_dir=(0, 0, -1), z_dir=(1, 0, 0)), mode=Mode.PRIVATE) as boss_extrude10_direction_2_sk1:
        with Locations((45.85, 20)):
            Rectangle(SKETCH13_W, SKETCH13_H)
    boss_extrude10_direction_2_tool1 = extrude(boss_extrude10_direction_2_sk1.sketch, amount=-BOSS_EXTRUDE10_DIRECTION_2_REACH, mode=Mode.PRIVATE) - body_2.part
    # Sketch13 → Boss-Extrude10 direction 2 (add, up to next)
    with BuildSketch(Plane(origin=(0, 0, 0), x_dir=(0, 0, -1), z_dir=(1, 0, 0)), mode=Mode.PRIVATE) as boss_extrude10_direction_2_sk2:
        with Locations((-37.65, 20)):
            Rectangle(SKETCH13_W, SKETCH13_H)
    boss_extrude10_direction_2_tool2 = extrude(boss_extrude10_direction_2_sk2.sketch, amount=-BOSS_EXTRUDE10_DIRECTION_2_REACH, mode=Mode.PRIVATE) - body_2.part
    add(boss_extrude10_direction_2_tool1.solids().sort_by_distance((0, 20, -45.85))[0])
    add(boss_extrude10_direction_2_tool2.solids().sort_by_distance((0, 20, 37.65))[0])

    # Sketch15 → Cut-Extrude1 (cut)
    with BuildSketch(Plane.XZ.offset(-11.1)):
        with Locations((-21.9, -44)):
            Circle(SKETCH15_R)
        with Locations((-9.9, -44)):
            Circle(SKETCH15_R)
        with Locations((-21.9, 35.8)):
            Circle(SKETCH15_R)
        with Locations((-9.9, 35.8)):
            Circle(SKETCH15_R)
        with Locations((9.9, 35.8)):
            Circle(SKETCH15_R)
        with Locations((21.9, 35.8)):
            Circle(SKETCH15_R)
        with Locations((9.9, -44)):
            Circle(SKETCH15_R)
        with Locations((21.9, -44)):
            Circle(SKETCH15_R)
    extrude(amount=-CUT_EXTRUDE1_DEPTH, mode=Mode.SUBTRACT)


with BuildPart() as body_3:
    # Sketch10 → Boss-Extrude8 (new body)
    with BuildSketch(Plane(origin=(0, 38, 0), x_dir=(1, 0, 0), z_dir=(0, 1, 0))):
        with BuildLine():
            Line((-32, 36), (-32, 21))
            Line((-32, 21), (-29.579603504, -34.436193874))
            ThreePointArc((-29.579603504, -34.436193874), (-26.504251846, -41.223639621), (-19.589121288, -44))
            Line((-19.589121288, -44), (19.589121288, -44))
            ThreePointArc((19.589121288, -44), (26.504251846, -41.223639621), (29.579603504, -34.436193874))
            Line((29.579603504, -34.436193874), (32, 21))
            Line((32, 21), (32, 36))
            ThreePointArc((32, 36), (29.656854249, 41.656854249), (24, 44))
            Line((24, 44), (-24, 44))
            ThreePointArc((-24, 44), (-29.656854249, 41.656854249), (-32, 36))
        make_face()
    extrude(amount=BOSS_EXTRUDE8_DEPTH)

    # Sketch11 → Boss-Extrude9 (add)
    with BuildSketch(Plane(origin=(0, 38, 0), x_dir=(1, 0, 0), z_dir=(0, 1, 0))):
        with BuildLine():
            Line((-35, -45.9), (35, -45.9))
            ThreePointArc((35, -45.9), (38.535533906, -44.435533906), (40, -40.9))
            Line((40, -40.9), (40, 49.1))
            ThreePointArc((40, 49.1), (38.535533906, 52.635533906), (35, 54.1))
            Line((35, 54.1), (-35, 54.1))
            ThreePointArc((-35, 54.1), (-38.535533906, 52.635533906), (-40, 49.1))
            Line((-40, 49.1), (-40, -40.9))
            ThreePointArc((-40, -40.9), (-38.535533906, -44.435533906), (-35, -45.9))
        make_face()
    extrude(amount=-BOSS_EXTRUDE9_DEPTH)

    # Sketch18 → Boss-Extrude12 (add)
    with BuildSketch(Plane(origin=(0, 43, 0), x_dir=(1, 0, 0), z_dir=(0, 1, 0))):
        with Locations((0, 45)):
            Rectangle(SKETCH18_W, SKETCH18_H)
        with Locations((0, -45)):
            Rectangle(SKETCH18_W_2, SKETCH18_H)
        Polygon((-31.5, 21.010910039), (-30.84570919, 6.025186715), (-33.842853854, 5.894328553), (-34.5, 20.945449806), (-34.5, 31.010910039), (-31.5, 31.010910039), align=None)
        Polygon((31.5, 21.010910039), (31.5, 31.010910039), (34.5, 31.010910039), (34.5, 20.945449806), (33.842853854, 5.894328553), (30.84570919, 6.025186715), align=None)
    extrude(amount=-BOSS_EXTRUDE12_DEPTH)


with BuildPart() as cut_extrude2_tool:
    # Sketch19 → Cut-Extrude2 (new, through all)
    with BuildSketch(Plane(origin=(0, 5, 0), x_dir=(1, 0, 0), z_dir=(0, 1, 0))):
        Rectangle(SKETCH19_W, SKETCH19_H)
    extrude(amount=CUT_EXTRUDE2_DEPTH)


with BuildPart() as body_2_1:
    add(body_2.part)

    # Cut-Extrude2: cut by cut_extrude2_tool
    add(cut_extrude2_tool.part, mode=Mode.SUBTRACT)


with BuildPart() as body_3_1:
    add(body_3.part)

    # Cut-Extrude2: cut by cut_extrude2_tool
    add(cut_extrude2_tool.part, mode=Mode.SUBTRACT)


solid = part.part
